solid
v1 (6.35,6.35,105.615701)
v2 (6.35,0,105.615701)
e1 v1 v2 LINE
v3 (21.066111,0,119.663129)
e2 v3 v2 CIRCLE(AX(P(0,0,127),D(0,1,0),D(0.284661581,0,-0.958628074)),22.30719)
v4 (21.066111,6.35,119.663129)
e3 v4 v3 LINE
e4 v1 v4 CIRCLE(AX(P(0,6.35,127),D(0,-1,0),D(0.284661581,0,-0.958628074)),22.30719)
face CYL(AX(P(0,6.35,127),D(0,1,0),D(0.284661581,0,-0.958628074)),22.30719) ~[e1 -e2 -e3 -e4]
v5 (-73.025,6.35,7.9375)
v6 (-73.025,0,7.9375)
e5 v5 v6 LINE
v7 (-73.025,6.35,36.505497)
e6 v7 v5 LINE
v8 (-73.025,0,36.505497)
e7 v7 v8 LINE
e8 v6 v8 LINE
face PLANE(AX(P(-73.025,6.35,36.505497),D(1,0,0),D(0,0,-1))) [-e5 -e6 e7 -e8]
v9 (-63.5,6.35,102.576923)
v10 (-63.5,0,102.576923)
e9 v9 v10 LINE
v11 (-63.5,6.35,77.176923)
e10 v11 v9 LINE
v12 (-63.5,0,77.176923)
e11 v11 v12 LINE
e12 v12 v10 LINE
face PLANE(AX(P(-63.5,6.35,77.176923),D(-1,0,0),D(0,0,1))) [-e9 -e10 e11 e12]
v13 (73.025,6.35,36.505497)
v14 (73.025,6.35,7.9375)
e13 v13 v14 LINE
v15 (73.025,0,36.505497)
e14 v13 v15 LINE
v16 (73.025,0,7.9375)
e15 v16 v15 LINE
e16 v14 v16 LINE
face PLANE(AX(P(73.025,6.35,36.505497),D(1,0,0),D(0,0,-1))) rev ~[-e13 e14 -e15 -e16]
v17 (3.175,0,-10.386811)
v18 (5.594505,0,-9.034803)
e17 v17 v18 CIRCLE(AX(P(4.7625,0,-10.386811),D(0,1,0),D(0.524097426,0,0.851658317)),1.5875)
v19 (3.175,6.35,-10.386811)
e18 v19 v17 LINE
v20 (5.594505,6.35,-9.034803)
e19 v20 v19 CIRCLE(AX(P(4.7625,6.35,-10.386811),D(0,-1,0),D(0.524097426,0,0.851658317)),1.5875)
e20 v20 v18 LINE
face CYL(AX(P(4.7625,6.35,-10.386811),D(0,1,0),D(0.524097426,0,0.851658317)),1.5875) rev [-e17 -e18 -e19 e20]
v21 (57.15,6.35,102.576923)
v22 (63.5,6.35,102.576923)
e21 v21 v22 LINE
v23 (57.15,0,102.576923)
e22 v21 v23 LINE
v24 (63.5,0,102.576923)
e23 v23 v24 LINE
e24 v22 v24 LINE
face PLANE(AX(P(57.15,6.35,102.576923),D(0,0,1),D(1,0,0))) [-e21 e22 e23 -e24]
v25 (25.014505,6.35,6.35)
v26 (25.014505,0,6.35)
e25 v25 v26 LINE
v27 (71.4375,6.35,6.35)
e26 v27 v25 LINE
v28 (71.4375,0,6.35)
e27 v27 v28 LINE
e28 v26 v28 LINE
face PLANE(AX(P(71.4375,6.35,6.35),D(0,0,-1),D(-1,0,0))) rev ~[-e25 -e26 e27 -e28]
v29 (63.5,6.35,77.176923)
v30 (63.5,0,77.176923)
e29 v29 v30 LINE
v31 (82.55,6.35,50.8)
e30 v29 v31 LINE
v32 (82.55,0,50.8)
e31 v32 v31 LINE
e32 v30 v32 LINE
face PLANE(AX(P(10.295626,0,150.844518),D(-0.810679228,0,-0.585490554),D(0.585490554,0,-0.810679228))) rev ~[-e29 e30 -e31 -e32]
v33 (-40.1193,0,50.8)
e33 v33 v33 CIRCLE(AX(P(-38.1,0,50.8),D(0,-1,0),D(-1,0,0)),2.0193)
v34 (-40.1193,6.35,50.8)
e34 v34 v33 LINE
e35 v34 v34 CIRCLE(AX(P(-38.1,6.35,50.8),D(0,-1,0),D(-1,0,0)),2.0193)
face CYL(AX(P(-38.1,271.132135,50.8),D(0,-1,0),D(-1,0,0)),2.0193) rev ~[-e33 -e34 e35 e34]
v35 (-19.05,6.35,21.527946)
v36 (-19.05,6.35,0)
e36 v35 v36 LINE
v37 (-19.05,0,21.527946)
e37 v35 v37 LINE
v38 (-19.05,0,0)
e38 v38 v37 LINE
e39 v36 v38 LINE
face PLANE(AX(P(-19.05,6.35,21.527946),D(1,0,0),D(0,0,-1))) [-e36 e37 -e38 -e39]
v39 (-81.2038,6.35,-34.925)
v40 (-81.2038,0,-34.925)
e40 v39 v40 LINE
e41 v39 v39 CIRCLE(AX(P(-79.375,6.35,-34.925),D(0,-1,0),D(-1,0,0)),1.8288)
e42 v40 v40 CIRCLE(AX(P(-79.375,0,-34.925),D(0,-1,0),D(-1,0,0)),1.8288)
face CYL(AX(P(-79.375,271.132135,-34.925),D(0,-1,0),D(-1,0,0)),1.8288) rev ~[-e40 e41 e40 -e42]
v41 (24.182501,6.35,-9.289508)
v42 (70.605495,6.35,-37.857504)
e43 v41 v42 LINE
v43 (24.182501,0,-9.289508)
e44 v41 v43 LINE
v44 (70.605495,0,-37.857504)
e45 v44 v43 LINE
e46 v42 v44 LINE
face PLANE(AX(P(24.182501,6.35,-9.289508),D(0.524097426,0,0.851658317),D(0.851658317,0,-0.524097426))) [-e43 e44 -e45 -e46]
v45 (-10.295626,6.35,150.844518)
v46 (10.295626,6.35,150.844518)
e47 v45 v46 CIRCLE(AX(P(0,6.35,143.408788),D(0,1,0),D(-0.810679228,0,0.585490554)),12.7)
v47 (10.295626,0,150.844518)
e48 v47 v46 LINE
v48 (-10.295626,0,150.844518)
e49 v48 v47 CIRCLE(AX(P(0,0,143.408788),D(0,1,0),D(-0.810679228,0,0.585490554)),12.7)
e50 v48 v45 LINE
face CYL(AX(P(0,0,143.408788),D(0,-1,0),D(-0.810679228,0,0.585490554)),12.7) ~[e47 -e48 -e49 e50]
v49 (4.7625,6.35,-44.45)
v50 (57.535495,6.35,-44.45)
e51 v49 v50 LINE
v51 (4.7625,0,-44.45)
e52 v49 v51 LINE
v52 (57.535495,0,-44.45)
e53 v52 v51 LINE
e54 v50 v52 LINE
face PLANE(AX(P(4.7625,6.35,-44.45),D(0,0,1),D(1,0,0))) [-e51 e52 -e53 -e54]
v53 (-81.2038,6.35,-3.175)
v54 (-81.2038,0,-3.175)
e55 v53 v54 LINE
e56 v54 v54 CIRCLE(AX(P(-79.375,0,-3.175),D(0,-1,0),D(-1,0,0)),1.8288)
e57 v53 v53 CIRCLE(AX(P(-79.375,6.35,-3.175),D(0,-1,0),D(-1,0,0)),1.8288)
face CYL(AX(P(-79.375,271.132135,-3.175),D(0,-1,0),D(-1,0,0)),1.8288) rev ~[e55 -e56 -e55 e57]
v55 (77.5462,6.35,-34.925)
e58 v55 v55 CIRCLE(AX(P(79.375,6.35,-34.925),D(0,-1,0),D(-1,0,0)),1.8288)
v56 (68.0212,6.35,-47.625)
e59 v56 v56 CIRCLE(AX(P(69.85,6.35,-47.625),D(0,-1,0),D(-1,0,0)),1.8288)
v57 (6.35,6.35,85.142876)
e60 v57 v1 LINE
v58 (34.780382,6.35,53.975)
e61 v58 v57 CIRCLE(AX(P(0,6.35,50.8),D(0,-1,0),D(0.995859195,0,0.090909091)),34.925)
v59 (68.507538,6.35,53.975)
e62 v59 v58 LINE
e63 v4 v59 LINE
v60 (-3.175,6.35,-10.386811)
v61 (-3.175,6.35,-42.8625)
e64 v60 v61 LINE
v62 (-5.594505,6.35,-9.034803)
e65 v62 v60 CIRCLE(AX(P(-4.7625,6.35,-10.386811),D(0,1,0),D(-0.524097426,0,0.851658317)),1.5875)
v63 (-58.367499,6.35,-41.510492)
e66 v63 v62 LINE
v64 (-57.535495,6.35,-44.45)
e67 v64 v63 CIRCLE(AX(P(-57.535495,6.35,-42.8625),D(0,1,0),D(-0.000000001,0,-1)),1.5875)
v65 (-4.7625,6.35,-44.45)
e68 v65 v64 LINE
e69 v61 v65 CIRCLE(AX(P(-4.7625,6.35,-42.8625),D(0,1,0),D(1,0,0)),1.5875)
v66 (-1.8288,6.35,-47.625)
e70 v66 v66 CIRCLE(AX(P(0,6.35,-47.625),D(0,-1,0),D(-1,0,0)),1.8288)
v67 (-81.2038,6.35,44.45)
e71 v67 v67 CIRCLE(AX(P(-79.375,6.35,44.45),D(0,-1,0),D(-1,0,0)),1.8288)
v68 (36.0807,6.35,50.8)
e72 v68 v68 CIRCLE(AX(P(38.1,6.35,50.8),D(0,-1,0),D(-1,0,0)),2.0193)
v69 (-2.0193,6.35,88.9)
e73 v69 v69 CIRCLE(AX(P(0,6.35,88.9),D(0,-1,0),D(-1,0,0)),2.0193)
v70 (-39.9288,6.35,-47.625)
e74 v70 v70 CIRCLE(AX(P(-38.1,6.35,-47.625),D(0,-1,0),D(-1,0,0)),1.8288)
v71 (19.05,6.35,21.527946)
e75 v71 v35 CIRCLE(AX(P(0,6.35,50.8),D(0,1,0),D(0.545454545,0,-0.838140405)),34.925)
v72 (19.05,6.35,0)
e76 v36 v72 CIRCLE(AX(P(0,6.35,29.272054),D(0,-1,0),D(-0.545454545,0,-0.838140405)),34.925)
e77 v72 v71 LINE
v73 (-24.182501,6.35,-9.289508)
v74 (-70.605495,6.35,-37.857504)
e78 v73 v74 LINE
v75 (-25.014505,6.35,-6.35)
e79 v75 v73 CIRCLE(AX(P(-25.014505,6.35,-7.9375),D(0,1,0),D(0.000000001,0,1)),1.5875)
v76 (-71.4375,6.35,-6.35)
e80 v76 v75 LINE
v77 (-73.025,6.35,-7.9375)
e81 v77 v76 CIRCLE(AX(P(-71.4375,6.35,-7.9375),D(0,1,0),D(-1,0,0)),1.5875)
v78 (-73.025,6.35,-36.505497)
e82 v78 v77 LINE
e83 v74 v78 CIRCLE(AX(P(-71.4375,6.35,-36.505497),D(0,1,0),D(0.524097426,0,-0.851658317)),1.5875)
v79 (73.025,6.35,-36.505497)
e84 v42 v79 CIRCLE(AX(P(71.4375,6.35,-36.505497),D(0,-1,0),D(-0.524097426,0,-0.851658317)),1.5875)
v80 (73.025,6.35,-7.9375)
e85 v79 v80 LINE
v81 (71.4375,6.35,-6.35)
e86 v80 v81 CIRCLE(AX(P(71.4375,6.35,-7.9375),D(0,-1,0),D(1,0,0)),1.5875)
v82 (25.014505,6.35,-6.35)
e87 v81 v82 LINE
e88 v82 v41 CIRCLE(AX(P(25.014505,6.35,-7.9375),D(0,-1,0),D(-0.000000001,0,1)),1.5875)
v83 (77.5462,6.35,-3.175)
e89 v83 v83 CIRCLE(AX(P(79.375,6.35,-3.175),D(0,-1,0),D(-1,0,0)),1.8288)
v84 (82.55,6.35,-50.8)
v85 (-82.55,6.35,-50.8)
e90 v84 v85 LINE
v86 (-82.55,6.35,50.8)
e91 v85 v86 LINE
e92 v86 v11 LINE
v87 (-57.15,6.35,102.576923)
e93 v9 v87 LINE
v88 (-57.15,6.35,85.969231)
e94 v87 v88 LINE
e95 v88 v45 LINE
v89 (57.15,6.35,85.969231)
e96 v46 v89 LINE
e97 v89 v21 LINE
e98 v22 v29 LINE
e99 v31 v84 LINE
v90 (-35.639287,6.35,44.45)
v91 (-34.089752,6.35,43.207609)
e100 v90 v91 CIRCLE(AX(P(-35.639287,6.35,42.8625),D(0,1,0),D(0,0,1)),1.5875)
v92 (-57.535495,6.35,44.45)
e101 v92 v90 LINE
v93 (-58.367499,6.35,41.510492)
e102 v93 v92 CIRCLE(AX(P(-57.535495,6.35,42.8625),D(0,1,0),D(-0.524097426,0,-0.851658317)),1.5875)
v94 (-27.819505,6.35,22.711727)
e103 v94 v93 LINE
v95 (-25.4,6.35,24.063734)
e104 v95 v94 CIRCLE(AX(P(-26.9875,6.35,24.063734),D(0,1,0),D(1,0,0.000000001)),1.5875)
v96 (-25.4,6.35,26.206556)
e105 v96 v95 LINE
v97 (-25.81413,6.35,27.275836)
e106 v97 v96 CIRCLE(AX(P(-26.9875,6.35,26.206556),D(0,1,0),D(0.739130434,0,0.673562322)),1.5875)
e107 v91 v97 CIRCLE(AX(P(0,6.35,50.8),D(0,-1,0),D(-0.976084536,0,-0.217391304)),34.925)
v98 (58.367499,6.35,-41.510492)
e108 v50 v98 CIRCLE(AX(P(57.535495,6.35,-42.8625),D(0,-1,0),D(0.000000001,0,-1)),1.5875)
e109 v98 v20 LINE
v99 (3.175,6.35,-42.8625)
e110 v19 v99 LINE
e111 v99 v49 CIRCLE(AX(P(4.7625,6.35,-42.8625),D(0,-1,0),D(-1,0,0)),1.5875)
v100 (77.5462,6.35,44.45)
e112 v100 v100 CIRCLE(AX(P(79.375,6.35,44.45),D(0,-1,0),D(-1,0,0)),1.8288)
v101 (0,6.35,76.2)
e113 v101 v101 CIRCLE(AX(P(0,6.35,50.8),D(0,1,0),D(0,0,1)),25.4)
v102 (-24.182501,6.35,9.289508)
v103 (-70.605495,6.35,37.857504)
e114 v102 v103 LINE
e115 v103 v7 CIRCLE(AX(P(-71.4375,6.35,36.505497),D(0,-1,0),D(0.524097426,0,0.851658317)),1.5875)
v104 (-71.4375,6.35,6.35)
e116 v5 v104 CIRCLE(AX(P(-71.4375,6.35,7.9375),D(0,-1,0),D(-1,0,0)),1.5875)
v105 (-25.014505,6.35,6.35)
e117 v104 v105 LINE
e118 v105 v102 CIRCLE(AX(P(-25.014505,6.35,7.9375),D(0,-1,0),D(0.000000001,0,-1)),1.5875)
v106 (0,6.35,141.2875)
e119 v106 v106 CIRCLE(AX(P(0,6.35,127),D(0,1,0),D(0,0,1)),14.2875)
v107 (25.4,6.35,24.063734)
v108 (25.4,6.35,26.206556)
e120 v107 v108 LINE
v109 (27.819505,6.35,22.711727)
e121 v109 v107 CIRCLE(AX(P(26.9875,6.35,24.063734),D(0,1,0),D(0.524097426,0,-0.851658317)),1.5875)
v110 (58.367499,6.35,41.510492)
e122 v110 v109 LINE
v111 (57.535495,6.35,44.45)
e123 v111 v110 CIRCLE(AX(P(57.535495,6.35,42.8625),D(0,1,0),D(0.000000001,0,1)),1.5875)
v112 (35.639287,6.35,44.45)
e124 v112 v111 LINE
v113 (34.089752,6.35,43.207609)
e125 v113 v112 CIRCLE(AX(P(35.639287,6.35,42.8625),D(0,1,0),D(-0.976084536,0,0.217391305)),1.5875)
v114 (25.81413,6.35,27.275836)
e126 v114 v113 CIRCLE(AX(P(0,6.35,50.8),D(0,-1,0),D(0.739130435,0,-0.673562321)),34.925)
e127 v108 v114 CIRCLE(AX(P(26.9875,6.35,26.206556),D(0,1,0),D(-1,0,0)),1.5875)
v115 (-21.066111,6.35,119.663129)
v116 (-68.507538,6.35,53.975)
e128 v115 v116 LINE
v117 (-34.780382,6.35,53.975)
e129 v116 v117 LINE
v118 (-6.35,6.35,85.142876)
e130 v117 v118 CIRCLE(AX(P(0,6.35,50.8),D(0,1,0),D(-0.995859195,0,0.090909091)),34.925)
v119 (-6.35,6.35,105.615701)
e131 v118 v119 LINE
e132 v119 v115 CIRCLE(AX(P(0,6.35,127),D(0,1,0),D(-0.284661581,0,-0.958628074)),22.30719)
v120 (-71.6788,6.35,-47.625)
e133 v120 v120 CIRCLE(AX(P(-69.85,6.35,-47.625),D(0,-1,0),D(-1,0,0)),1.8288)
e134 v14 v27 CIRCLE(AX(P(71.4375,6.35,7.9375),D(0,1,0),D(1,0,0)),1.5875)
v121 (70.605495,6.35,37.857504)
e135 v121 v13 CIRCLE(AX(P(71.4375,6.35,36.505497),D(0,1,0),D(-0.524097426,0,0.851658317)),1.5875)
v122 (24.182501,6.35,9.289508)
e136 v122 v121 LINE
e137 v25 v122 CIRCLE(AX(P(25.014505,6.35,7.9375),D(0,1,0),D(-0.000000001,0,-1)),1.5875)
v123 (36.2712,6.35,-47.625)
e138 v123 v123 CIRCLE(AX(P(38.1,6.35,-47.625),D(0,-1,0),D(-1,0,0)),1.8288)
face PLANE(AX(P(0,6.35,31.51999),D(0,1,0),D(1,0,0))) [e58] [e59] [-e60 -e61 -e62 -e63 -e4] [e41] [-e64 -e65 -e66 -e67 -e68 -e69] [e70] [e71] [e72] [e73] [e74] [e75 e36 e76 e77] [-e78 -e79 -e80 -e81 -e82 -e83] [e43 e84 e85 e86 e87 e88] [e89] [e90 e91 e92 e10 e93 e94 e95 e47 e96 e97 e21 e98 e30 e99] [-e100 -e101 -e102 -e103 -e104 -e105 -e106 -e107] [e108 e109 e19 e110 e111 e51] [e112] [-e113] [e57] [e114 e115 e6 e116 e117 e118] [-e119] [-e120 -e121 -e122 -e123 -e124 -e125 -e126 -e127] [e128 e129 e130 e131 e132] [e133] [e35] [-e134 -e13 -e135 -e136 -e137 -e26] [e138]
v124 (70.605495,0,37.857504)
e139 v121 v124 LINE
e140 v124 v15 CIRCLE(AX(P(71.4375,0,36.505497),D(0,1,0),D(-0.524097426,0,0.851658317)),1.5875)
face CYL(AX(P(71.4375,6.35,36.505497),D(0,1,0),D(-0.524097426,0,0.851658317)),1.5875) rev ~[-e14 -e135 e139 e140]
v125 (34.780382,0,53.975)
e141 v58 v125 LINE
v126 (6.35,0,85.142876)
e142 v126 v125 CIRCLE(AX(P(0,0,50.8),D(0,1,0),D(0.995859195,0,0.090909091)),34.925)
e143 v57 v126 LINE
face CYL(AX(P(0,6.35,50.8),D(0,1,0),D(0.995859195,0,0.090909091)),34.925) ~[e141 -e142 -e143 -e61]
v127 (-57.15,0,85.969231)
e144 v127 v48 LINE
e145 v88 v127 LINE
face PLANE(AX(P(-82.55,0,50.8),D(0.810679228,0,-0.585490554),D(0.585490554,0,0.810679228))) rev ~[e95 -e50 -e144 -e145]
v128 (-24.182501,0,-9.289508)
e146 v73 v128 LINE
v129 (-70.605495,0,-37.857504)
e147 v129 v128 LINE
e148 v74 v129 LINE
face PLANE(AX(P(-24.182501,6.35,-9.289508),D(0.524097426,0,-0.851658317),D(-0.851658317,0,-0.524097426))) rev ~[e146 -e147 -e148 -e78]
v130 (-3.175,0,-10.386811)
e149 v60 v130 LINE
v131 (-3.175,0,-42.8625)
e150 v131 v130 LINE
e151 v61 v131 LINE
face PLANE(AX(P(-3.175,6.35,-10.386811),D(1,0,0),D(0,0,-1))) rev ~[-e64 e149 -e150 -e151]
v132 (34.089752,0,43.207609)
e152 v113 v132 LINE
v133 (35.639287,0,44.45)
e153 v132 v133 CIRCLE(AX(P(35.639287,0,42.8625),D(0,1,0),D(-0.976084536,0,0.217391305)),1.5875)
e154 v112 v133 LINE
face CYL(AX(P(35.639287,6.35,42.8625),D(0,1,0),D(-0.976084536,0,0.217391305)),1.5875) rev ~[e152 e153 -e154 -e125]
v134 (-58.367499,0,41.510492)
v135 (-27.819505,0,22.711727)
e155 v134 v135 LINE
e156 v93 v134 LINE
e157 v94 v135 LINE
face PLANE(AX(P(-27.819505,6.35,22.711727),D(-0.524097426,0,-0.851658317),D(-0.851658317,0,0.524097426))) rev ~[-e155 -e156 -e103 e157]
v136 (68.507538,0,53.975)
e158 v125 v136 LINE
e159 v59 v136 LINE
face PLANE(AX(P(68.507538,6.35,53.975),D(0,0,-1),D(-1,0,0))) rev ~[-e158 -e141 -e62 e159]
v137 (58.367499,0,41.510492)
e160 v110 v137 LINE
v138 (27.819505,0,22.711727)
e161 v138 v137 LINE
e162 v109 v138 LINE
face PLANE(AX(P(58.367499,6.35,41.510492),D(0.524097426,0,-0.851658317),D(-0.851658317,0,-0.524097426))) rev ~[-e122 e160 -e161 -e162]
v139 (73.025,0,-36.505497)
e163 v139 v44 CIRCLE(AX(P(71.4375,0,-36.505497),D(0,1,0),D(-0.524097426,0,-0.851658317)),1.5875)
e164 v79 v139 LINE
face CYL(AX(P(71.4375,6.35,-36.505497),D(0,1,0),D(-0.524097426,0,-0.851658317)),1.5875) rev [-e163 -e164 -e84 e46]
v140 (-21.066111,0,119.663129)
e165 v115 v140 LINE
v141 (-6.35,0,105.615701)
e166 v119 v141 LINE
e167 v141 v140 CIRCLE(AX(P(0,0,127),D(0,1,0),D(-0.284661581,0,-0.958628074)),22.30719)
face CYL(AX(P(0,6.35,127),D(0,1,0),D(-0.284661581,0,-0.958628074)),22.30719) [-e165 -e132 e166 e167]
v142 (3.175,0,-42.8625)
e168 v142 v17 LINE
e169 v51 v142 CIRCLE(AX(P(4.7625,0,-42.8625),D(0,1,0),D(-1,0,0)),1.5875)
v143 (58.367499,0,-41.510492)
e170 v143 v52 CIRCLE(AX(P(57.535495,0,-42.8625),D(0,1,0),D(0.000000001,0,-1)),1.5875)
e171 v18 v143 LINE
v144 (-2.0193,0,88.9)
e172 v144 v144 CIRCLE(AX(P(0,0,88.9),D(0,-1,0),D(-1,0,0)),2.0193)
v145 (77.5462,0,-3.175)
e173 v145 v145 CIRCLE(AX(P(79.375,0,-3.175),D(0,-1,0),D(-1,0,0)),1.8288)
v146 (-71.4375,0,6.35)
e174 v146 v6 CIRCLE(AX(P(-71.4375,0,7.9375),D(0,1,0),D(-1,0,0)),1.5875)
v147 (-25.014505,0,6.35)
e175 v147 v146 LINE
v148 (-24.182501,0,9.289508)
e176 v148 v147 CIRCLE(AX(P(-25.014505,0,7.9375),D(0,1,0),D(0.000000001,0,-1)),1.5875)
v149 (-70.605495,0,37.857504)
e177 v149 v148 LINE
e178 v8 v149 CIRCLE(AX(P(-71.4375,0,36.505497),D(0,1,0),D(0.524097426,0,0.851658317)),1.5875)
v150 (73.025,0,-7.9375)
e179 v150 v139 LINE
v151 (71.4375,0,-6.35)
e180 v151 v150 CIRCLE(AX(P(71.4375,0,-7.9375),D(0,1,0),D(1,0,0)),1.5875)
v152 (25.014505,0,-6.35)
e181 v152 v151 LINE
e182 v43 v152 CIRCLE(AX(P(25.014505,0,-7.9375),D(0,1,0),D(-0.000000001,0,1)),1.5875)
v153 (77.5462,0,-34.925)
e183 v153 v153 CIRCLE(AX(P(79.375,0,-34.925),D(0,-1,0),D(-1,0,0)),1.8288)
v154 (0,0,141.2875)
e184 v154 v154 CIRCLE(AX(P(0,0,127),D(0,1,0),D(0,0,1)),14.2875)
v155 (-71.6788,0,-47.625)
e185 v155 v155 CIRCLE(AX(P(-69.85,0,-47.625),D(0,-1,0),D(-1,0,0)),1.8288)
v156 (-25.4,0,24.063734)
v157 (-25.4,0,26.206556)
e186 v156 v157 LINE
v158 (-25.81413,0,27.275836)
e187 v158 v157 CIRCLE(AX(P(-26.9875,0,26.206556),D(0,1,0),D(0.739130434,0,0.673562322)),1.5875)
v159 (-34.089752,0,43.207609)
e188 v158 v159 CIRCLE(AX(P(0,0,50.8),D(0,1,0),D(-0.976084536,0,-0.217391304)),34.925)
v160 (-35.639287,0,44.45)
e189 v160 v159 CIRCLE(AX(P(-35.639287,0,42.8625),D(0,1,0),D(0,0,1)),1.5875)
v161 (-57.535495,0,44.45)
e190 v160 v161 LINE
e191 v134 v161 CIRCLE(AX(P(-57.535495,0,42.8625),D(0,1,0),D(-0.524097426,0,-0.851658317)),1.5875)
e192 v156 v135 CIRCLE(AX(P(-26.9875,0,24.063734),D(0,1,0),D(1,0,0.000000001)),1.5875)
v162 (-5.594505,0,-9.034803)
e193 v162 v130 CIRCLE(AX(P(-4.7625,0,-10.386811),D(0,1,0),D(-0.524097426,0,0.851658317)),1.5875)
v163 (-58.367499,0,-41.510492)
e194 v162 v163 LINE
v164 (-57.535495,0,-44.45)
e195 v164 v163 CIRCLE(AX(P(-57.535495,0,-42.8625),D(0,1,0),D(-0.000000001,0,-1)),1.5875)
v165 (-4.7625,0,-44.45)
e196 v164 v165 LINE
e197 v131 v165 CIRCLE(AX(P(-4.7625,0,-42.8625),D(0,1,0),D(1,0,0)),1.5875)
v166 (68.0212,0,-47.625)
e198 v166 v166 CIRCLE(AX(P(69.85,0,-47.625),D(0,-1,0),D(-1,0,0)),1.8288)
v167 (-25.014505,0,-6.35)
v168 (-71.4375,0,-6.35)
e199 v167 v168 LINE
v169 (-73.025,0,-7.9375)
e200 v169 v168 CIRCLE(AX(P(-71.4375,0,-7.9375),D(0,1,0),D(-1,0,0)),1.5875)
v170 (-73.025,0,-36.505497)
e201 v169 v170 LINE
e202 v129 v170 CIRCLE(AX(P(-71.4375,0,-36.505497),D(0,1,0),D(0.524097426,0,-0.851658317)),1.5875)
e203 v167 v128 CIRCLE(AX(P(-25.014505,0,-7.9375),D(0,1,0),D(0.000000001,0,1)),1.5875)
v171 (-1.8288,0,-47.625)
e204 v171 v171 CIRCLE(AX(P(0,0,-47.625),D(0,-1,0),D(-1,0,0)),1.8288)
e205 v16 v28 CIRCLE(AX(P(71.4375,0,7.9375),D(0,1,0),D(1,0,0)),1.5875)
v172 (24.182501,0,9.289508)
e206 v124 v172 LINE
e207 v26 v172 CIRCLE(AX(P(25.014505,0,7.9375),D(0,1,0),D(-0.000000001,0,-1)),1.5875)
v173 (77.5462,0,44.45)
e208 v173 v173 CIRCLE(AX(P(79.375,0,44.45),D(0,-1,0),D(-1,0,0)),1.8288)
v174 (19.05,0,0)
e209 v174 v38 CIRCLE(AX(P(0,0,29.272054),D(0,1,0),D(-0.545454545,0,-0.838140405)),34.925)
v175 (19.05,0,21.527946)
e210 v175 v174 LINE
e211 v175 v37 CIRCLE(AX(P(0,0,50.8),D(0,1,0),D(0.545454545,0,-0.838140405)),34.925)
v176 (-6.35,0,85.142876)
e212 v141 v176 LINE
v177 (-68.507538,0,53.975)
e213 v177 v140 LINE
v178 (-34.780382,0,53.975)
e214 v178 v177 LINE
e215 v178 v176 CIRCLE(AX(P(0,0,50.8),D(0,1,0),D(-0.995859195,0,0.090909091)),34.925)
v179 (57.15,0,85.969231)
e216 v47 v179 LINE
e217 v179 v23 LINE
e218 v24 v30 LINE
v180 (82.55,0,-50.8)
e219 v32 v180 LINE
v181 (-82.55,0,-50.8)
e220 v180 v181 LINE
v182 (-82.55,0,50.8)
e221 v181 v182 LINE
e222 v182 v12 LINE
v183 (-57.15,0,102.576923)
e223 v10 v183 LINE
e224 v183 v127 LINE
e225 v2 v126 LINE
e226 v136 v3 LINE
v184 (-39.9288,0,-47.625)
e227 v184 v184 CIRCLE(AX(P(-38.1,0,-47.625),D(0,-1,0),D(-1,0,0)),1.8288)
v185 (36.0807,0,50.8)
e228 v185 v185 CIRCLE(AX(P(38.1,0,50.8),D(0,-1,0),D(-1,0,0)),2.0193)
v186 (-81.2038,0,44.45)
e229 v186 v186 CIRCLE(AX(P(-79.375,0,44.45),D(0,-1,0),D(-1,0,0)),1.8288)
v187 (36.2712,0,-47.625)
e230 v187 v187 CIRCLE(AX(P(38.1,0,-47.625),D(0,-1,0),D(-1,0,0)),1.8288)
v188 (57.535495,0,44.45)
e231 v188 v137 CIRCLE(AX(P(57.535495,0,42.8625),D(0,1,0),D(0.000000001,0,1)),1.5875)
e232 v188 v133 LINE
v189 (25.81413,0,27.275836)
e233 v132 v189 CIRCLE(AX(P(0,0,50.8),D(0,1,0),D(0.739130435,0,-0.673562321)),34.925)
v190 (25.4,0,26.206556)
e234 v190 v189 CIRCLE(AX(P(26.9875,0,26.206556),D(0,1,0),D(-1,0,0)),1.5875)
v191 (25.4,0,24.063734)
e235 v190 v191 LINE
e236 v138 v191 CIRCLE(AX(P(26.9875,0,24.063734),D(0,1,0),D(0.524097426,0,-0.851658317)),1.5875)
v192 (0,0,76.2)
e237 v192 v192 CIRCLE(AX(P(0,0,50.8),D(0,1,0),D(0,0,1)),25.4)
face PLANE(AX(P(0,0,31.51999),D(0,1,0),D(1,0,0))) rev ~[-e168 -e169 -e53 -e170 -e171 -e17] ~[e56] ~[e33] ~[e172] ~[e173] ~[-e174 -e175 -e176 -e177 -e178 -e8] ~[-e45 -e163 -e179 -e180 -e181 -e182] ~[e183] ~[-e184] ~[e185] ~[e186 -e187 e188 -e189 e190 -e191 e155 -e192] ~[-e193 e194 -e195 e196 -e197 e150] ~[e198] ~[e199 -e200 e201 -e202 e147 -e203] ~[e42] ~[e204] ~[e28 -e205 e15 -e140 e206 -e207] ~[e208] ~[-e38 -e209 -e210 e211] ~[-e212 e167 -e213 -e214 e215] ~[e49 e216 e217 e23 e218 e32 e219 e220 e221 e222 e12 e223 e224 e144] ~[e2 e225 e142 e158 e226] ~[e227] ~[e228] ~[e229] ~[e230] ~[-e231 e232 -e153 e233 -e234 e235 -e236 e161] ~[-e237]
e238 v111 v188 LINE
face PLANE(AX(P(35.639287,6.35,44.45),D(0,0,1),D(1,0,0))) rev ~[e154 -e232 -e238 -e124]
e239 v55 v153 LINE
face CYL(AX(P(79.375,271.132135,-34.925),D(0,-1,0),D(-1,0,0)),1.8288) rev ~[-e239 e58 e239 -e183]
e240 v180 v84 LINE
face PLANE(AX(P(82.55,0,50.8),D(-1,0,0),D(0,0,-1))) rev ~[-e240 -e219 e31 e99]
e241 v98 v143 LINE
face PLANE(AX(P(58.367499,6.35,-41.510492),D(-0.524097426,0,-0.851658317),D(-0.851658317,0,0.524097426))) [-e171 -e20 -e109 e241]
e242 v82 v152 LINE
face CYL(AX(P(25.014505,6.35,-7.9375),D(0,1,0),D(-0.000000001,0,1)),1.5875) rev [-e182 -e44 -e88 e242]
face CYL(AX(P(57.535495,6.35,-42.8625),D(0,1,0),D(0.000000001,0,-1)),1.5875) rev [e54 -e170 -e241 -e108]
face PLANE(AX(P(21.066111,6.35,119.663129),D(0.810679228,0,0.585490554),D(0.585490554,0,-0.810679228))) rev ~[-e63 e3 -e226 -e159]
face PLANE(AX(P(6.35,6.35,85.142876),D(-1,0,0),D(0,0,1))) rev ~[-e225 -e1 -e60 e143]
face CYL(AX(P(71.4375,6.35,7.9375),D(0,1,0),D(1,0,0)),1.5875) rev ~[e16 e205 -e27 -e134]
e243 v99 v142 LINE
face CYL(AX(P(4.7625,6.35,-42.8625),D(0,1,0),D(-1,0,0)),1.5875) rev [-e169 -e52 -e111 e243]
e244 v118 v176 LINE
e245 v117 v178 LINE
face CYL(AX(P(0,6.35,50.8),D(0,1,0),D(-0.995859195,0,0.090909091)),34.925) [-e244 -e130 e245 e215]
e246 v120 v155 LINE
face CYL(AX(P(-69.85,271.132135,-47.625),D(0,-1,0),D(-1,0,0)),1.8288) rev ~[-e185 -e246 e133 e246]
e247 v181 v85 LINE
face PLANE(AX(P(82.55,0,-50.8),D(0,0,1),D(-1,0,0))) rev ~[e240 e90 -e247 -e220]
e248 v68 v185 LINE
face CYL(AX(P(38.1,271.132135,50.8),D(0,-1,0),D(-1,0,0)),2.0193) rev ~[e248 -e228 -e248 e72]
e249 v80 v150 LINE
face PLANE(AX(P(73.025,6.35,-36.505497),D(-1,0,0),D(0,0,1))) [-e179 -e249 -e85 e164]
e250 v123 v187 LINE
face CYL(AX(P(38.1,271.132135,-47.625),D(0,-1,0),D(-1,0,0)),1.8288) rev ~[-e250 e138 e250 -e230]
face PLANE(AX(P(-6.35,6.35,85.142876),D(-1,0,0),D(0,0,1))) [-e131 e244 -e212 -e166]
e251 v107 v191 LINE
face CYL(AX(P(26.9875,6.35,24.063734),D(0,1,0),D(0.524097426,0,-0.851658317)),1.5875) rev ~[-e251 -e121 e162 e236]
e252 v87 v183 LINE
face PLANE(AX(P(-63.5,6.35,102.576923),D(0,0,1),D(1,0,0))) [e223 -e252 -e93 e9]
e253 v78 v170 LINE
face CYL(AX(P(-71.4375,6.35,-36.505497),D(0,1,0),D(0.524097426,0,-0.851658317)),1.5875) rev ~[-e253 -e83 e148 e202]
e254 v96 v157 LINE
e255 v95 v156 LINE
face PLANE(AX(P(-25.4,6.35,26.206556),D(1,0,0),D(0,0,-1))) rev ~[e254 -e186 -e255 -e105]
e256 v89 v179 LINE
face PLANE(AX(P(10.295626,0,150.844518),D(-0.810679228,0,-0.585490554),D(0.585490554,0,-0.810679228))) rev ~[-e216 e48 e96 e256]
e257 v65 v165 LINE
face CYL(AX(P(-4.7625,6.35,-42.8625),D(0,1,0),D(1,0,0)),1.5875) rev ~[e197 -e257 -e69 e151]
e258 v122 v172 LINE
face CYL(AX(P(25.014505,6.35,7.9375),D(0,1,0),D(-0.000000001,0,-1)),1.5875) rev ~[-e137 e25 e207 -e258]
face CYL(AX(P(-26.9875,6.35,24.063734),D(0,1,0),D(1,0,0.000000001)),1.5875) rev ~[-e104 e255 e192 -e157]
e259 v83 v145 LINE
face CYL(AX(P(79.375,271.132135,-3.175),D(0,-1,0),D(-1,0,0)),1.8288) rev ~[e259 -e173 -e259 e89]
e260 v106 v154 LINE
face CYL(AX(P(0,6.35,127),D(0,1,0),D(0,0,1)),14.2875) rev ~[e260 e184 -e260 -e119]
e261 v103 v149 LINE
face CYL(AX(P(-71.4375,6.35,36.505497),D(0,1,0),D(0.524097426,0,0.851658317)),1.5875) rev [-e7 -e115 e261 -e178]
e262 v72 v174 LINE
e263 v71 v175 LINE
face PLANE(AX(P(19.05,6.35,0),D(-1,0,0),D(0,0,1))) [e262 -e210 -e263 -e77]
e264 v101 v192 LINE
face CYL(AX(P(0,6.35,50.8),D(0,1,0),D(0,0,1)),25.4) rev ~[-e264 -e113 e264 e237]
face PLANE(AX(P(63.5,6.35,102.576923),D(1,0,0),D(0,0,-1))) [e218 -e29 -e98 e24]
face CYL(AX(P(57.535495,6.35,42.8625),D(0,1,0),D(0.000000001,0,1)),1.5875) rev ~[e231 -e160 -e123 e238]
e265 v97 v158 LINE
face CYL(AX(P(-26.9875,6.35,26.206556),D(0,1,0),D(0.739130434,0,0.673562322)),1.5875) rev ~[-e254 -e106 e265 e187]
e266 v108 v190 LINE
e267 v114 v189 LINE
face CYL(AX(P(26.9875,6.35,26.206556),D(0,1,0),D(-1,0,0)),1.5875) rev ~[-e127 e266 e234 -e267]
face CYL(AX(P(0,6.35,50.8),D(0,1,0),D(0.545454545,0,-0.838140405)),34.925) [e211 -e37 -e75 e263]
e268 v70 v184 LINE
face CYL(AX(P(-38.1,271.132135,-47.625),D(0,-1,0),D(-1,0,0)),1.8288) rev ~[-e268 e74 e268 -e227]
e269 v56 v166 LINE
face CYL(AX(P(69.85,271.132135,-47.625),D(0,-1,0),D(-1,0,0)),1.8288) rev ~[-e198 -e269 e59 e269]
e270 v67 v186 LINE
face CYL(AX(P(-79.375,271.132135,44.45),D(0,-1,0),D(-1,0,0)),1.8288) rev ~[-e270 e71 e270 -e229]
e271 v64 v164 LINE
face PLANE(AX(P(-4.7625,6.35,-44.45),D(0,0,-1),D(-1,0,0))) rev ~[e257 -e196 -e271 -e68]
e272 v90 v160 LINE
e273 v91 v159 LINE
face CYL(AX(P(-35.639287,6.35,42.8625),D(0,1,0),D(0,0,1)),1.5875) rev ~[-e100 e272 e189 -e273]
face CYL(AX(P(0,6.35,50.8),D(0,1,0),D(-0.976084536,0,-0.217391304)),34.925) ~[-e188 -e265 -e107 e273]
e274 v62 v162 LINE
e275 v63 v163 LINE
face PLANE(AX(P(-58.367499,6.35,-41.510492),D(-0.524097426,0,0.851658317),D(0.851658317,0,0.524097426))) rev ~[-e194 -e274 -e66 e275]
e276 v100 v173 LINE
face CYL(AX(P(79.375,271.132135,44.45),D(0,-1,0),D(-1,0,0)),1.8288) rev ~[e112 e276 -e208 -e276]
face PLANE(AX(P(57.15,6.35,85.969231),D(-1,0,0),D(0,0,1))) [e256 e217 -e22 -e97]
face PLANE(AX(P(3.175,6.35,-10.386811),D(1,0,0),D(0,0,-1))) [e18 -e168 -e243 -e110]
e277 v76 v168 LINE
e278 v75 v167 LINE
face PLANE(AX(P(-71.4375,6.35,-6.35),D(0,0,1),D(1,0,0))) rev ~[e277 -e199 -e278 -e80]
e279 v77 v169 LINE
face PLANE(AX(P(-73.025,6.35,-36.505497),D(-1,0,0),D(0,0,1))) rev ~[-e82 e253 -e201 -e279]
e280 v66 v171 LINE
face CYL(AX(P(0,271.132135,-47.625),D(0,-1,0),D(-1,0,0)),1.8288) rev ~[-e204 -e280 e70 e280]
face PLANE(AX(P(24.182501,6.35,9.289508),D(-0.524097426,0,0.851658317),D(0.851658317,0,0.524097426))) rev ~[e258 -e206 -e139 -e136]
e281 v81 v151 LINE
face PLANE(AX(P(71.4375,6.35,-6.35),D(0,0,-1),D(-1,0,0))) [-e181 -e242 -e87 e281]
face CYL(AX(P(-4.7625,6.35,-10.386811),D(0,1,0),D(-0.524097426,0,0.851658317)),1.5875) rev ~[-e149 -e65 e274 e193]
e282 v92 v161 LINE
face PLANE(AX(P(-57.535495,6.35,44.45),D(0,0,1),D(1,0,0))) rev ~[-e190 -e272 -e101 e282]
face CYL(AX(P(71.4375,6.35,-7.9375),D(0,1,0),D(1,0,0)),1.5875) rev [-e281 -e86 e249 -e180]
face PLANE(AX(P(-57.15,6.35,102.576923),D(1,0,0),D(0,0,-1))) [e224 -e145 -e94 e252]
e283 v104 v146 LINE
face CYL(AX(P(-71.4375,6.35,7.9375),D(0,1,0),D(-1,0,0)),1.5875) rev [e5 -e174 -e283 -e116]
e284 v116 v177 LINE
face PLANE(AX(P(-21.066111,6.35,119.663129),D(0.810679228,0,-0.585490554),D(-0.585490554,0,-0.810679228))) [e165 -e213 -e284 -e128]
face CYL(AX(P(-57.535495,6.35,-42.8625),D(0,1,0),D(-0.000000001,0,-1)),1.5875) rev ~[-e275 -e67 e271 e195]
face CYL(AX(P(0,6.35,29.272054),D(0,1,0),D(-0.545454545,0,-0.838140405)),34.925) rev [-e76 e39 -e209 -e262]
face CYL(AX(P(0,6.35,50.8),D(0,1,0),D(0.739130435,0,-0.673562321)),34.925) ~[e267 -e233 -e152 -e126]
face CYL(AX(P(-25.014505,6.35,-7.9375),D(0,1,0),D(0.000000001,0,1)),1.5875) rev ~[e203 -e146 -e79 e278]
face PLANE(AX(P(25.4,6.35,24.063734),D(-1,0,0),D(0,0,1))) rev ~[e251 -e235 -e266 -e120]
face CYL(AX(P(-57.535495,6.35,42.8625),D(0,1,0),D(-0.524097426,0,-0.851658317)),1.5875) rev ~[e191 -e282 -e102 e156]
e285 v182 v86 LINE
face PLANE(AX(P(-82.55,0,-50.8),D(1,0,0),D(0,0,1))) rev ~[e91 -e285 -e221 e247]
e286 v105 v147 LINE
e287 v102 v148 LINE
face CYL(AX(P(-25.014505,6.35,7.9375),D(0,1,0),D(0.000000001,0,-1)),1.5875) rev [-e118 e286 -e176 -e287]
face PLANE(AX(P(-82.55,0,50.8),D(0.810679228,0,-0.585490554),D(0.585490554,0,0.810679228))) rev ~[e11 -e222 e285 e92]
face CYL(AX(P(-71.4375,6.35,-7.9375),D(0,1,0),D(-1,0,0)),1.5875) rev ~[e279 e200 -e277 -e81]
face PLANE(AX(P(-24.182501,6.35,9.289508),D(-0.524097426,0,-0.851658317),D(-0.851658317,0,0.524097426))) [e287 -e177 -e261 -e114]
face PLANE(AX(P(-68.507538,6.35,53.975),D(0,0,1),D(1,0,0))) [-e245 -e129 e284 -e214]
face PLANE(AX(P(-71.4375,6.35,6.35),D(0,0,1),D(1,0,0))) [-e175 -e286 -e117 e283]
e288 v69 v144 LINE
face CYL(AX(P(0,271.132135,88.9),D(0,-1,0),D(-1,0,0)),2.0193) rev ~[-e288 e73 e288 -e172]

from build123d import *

# Parameters (mm, degrees)
BOSS_EXTRUDE1_DEPTH        = 6.35
BOSS_EXTRUDE2_DEPTH        = 6.35
CUT_EXTRUDE2_REACH         = 178.705
SKETCH3_R                  = 25.4
SKETCH3_R_2                = 14.2875
F_6_CLEARANCE_HOLE1_D      = 3.6576
TAP_DRILL_FOR_10_32_TAP1_D = 4.0386


with BuildPart() as part:
    # Sketch1 → Boss-Extrude1 (new body)
    with BuildSketch(Plane(origin=(0, 0, 0), x_dir=(1, 0, 0), z_dir=(0, 1, 0))):
        with BuildLine():
            Line((-82.55, -50.8), (-10.295626201, -150.844517568))
            ThreePointArc((-10.295626201, -150.844517568), (0, -156.108787534), (10.295626201, -150.844517568))
            Line((10.295626201, -150.844517568), (82.55, -50.8))
            Line((82.55, -50.8), (82.55, 50.8))
            Line((82.55, 50.8), (-82.55, 50.8))
            Line((-82.55, 50.8), (-82.55, -50.8))
        make_face()
    extrude(amount=BOSS_EXTRUDE1_DEPTH)

    # Sketch4 → Boss-Extrude2 (add)
    with BuildSketch(Plane(origin=(0, 6.35, 0), x_dir=(1, 0, 0), z_dir=(0, 1, 0))):
        Polygon((-63.5, -77.176923077), (-63.5, -102.576923077), (-57.15, -102.576923077), (-57.15, -85.969230769), align=None)
        Polygon((57.15, -102.576923077), (63.5, -102.576923077), (63.5, -77.176923077), (57.15, -85.969230769), align=None)
    extrude(amount=-BOSS_EXTRUDE2_DEPTH)

    # Sketch3 → Cut-Extrude2 (cut, up to next)
    with BuildSketch(Plane(origin=(0, 6.35, 0), x_dir=(1, 0, 0), z_dir=(0, 1, 0)), mode=Mode.PRIVATE) as cut_extrude2_sk1:
        with Locations(Location((0, -50.8, 0), (0, 0, 270))):
            Circle(SKETCH3_R)
    cut_extrude2_tool1 = extrude(cut_extrude2_sk1.sketch, amount=-CUT_EXTRUDE2_REACH, mode=Mode.PRIVATE) & part.part
    # Sketch3 → Cut-Extrude2 (cut, up to next)
    with BuildSketch(Plane(origin=(0, 6.35, 0), x_dir=(1, 0, 0), z_dir=(0, 1, 0)), mode=Mode.PRIVATE) as cut_extrude2_sk2:
        with Locations(Location((0, -127, 0), (0, 0, 270))):
            Circle(SKETCH3_R_2)
    cut_extrude2_tool2 = extrude(cut_extrude2_sk2.sketch, amount=-CUT_EXTRUDE2_REACH, mode=Mode.PRIVATE) & part.part
    # Sketch3 → Cut-Extrude2 (cut, up to next)
    with BuildSketch(Plane(origin=(0, 6.35, 0), x_dir=(1, 0, 0), z_dir=(0, 1, 0)), mode=Mode.PRIVATE) as cut_extrude2_sk3:
        with BuildLine():
            Line((-58.367499255, 41.510492422), (-5.594504663, 9.034803443))
            ThreePointArc((-5.594504663, 9.034803443), (-3.988113518, 9.000996521), (-3.175, 10.386811021))
            Line((-3.175, 10.386811021), (-3.175, 42.8625))
            ThreePointArc((-3.175, 42.8625), (-3.639967985, 43.985032015), (-4.7625, 44.45))
            Line((-4.7625, 44.45), (-57.535494592, 44.45))
            ThreePointArc((-57.535494592, 44.45), (-59.062987354, 43.294844897), (-58.367499255, 41.510492422))
        make_face()
    cut_extrude2_tool3 = extrude(cut_extrude2_sk3.sketch, amount=-CUT_EXTRUDE2_REACH, mode=Mode.PRIVATE) & part.part
    # Sketch3 → Cut-Extrude2 (cut, up to next)
    with BuildSketch(Plane(origin=(0, 6.35, 0), x_dir=(1, 0, 0), z_dir=(0, 1, 0)), mode=Mode.PRIVATE) as cut_extrude2_sk4:
        with BuildLine():
            Line((-73.025, 36.505496672), (-73.025, 7.9375))
            ThreePointArc((-73.025, 7.9375), (-72.560032015, 6.814967985), (-71.4375, 6.35))
            Line((-71.4375, 6.35), (-25.014505408, 6.35))
            ThreePointArc((-25.014505408, 6.35), (-23.487012646, 7.505155103), (-24.182500745, 9.289507578))
            Line((-24.182500745, 9.289507578), (-70.605495337, 37.857504249))
            ThreePointArc((-70.605495337, 37.857504249), (-72.211886482, 37.891311171), (-73.025, 36.505496672))
        make_face()
    cut_extrude2_tool4 = extrude(cut_extrude2_sk4.sketch, amount=-CUT_EXTRUDE2_REACH, mode=Mode.PRIVATE) & part.part
    # Sketch3 → Cut-Extrude2 (cut, up to next)
    with BuildSketch(Plane(origin=(0, 6.35, 0), x_dir=(1, 0, 0), z_dir=(0, 1, 0)), mode=Mode.PRIVATE) as cut_extrude2_sk5:
        with BuildLine():
            Line((4.7625, 44.45), (57.535494592, 44.45))
            ThreePointArc((57.535494592, 44.45), (59.062987354, 43.294844897), (58.367499255, 41.510492422))
            Line((58.367499255, 41.510492422), (5.594504663, 9.034803443))
            ThreePointArc((5.594504663, 9.034803443), (3.988113518, 9.000996521), (3.175, 10.386811021))
            Line((3.175, 10.386811021), (3.175, 42.8625))
            ThreePointArc((3.175, 42.8625), (3.639967985, 43.985032015), (4.7625, 44.45))
        make_face()
    cut_extrude2_tool5 = extrude(cut_extrude2_sk5.sketch, amount=-CUT_EXTRUDE2_REACH, mode=Mode.PRIVATE) & part.part
    # Sketch3 → Cut-Extrude2 (cut, up to next)
    with BuildSketch(Plane(origin=(0, 6.35, 0), x_dir=(1, 0, 0), z_dir=(0, 1, 0)), mode=Mode.PRIVATE) as cut_extrude2_sk6:
        with BuildLine():
            Line((24.182500745, 9.289507578), (70.605495337, 37.857504249))
            ThreePointArc((70.605495337, 37.857504249), (72.211886482, 37.891311171), (73.025, 36.505496672))
            Line((73.025, 36.505496672), (73.025, 7.9375))
            ThreePointArc((73.025, 7.9375), (72.560032015, 6.814967985), (71.4375, 6.35))
            Line((71.4375, 6.35), (25.014505408, 6.35))
            ThreePointArc((25.014505408, 6.35), (23.487012646, 7.505155103), (24.182500745, 9.289507578))
        make_face()
    cut_extrude2_tool6 = extrude(cut_extrude2_sk6.sketch, amount=-CUT_EXTRUDE2_REACH, mode=Mode.PRIVATE) & part.part
    # Sketch3 → Cut-Extrude2 (cut, up to next)
    with BuildSketch(Plane(origin=(0, 6.35, 0), x_dir=(1, 0, 0), z_dir=(0, 1, 0)), mode=Mode.PRIVATE) as cut_extrude2_sk7:
        with BuildLine():
            Line((73.025, -36.505496672), (73.025, -7.9375))
            ThreePointArc((73.025, -7.9375), (72.560032015, -6.814967985), (71.4375, -6.35))
            Line((71.4375, -6.35), (25.014505408, -6.35))
            ThreePointArc((25.014505408, -6.35), (23.487012646, -7.505155103), (24.182500745, -9.289507578))
            Line((24.182500745, -9.289507578), (70.605495337, -37.857504249))
            ThreePointArc((70.605495337, -37.857504249), (72.211886482, -37.891311171), (73.025, -36.505496672))
        make_face()
    cut_extrude2_tool7 = extrude(cut_extrude2_sk7.sketch, amount=-CUT_EXTRUDE2_REACH, mode=Mode.PRIVATE) & part.part
    # Sketch3 → Cut-Extrude2 (cut, up to next)
    with BuildSketch(Plane(origin=(0, 6.35, 0), x_dir=(1, 0, 0), z_dir=(0, 1, 0)), mode=Mode.PRIVATE) as cut_extrude2_sk8:
        with BuildLine():
            Line((-24.182500745, -9.289507578), (-70.605495337, -37.857504249))
            ThreePointArc((-70.605495337, -37.857504249), (-72.211886482, -37.891311171), (-73.025, -36.505496672))
            Line((-73.025, -36.505496672), (-73.025, -7.9375))
            ThreePointArc((-73.025, -7.9375), (-72.560032015, -6.814967985), (-71.4375, -6.35))
            Line((-71.4375, -6.35), (-25.014505408, -6.35))
            ThreePointArc((-25.014505408, -6.35), (-23.487012646, -7.505155103), (-24.182500745, -9.289507578))
        make_face()
    cut_extrude2_tool8 = extrude(cut_extrude2_sk8.sketch, amount=-CUT_EXTRUDE2_REACH, mode=Mode.PRIVATE) & part.part
    # Sketch3 → Cut-Extrude2 (cut, up to next)
    with BuildSketch(Plane(origin=(0, 6.35, 0), x_dir=(1, 0, 0), z_dir=(0, 1, 0)), mode=Mode.PRIVATE) as cut_extrude2_sk9:
        with BuildLine():
            Line((-6.35, -85.142875899), (-6.35, -105.615701316))
            ThreePointArc((-6.35, -105.615701316), (-15.402705776, -110.864096399), (-21.066111407, -119.663128703))
            Line((-21.066111407, -119.663128703), (-68.507537692, -53.975))
            Line((-68.507537692, -53.975), (-34.780382402, -53.975))
            ThreePointArc((-34.780382402, -53.975), (-25.802833394, -74.336554843), (-6.35, -85.142875899))
        make_face()
    cut_extrude2_tool9 = extrude(cut_extrude2_sk9.sketch, amount=-CUT_EXTRUDE2_REACH, mode=Mode.PRIVATE) & part.part
    # Sketch3 → Cut-Extrude2 (cut, up to next)
    with BuildSketch(Plane(origin=(0, 6.35, 0), x_dir=(1, 0, 0), z_dir=(0, 1, 0)), mode=Mode.PRIVATE) as cut_extrude2_sk10:
        with BuildLine():
            Line((6.35, -85.142875899), (6.35, -105.615701316))
            ThreePointArc((6.35, -105.615701316), (15.402705776, -110.864096399), (21.066111407, -119.663128703))
            Line((21.066111407, -119.663128703), (68.507537692, -53.975))
            Line((68.507537692, -53.975), (34.780382402, -53.975))
            ThreePointArc((34.780382402, -53.975), (25.802833394, -74.336554843), (6.35, -85.142875899))
        make_face()
    cut_extrude2_tool10 = extrude(cut_extrude2_sk10.sketch, amount=-CUT_EXTRUDE2_REACH, mode=Mode.PRIVATE) & part.part
    # Sketch3 → Cut-Extrude2 (cut, up to next)
    with BuildSketch(Plane(origin=(0, 6.35, 0), x_dir=(1, 0, 0), z_dir=(0, 1, 0)), mode=Mode.PRIVATE) as cut_extrude2_sk11:
        with BuildLine():
            Line((-19.05, -21.527946348), (-19.05, 0))
            ThreePointArc((-19.05, 0), (0, 5.652946348), (19.05, 0))
            Line((19.05, 0), (19.05, -21.527946348))
            ThreePointArc((19.05, -21.527946348), (0, -15.875), (-19.05, -21.527946348))
        make_face()
    cut_extrude2_tool11 = extrude(cut_extrude2_sk11.sketch, amount=-CUT_EXTRUDE2_REACH, mode=Mode.PRIVATE) & part.part
    # Sketch3 → Cut-Extrude2 (cut, up to next)
    with BuildSketch(Plane(origin=(0, 6.35, 0), x_dir=(1, 0, 0), z_dir=(0, 1, 0)), mode=Mode.PRIVATE) as cut_extrude2_sk12:
        with BuildLine():
            Line((-57.535494592, -44.45), (-35.639286609, -44.45))
            ThreePointArc((-35.639286609, -44.45), (-34.646236712, -44.101050827), (-34.089752409, -43.207608696))
            ThreePointArc((-34.089752409, -43.207608696), (-30.993130541, -34.700885606), (-25.814130435, -27.275835936))
            ThreePointArc((-25.814130435, -27.275835936), (-25.507148617, -26.779893377), (-25.4, -26.206555752))
            Line((-25.4, -26.206555752), (-25.4, -24.063734098))
            ThreePointArc((-25.4, -24.063734098), (-26.213113518, -22.677919598), (-27.819504663, -22.71172652))
            Line((-27.819504663, -22.71172652), (-58.367499255, -41.510492422))
            ThreePointArc((-58.367499255, -41.510492422), (-59.062987354, -43.294844897), (-57.535494592, -44.45))
        make_face()
    cut_extrude2_tool12 = extrude(cut_extrude2_sk12.sketch, amount=-CUT_EXTRUDE2_REACH, mode=Mode.PRIVATE) & part.part
    # Sketch3 → Cut-Extrude2 (cut, up to next)
    with BuildSketch(Plane(origin=(0, 6.35, 0), x_dir=(1, 0, 0), z_dir=(0, 1, 0)), mode=Mode.PRIVATE) as cut_extrude2_sk13:
        with BuildLine():
            Line((25.4, -24.063734098), (25.4, -26.206555752))
            ThreePointArc((25.4, -26.206555752), (25.507148617, -26.779893377), (25.814130435, -27.275835936))
            ThreePointArc((25.814130435, -27.275835936), (30.993130541, -34.700885606), (34.089752409, -43.207608696))
            ThreePointArc((34.089752409, -43.207608696), (34.646236712, -44.101050827), (35.639286609, -44.45))
            Line((35.639286609, -44.45), (57.535494592, -44.45))
            ThreePointArc((57.535494592, -44.45), (59.062987354, -43.294844897), (58.367499255, -41.510492422))
            Line((58.367499255, -41.510492422), (27.819504663, -22.71172652))
            ThreePointArc((27.819504663, -22.71172652), (26.213113518, -22.677919598), (25.4, -24.063734098))
        make_face()
    cut_extrude2_tool13 = extrude(cut_extrude2_sk13.sketch, amount=-CUT_EXTRUDE2_REACH, mode=Mode.PRIVATE) & part.part
    add(cut_extrude2_tool1.solids().sort_by_distance((0, 6.35, 50.8))[0], mode=Mode.SUBTRACT)
    add(cut_extrude2_tool2.solids().sort_by_distance((0, 6.35, 127))[0], mode=Mode.SUBTRACT)
    add(cut_extrude2_tool3.solids().sort_by_distance((-23.016302, 6.35, -32.123089))[0], mode=Mode.SUBTRACT)
    add(cut_extrude2_tool4.solids().sort_by_distance((-55.316443, 6.35, -17.377083))[0], mode=Mode.SUBTRACT)
    add(cut_extrude2_tool5.solids().sort_by_distance((23.016302, 6.35, -32.123089))[0], mode=Mode.SUBTRACT)
    add(cut_extrude2_tool6.solids().sort_by_distance((55.316443, 6.35, -17.377083))[0], mode=Mode.SUBTRACT)
    add(cut_extrude2_tool7.solids().sort_by_distance((55.316443, 6.35, 17.377083))[0], mode=Mode.SUBTRACT)
    add(cut_extrude2_tool8.solids().sort_by_distance((-55.316443, 6.35, 17.377083))[0], mode=Mode.SUBTRACT)
    add(cut_extrude2_tool9.solids().sort_by_distance((-32.99022, 6.35, 82.3723))[0], mode=Mode.SUBTRACT)
    add(cut_extrude2_tool10.solids().sort_by_distance((32.99022, 6.35, 82.3723))[0], mode=Mode.SUBTRACT)
    add(cut_extrude2_tool11.solids().sort_by_distance((0, 6.35, 6.929783))[0], mode=Mode.SUBTRACT)
    add(cut_extrude2_tool12.solids().sort_by_distance((-40.378487, 6.35, 36.296551))[0], mode=Mode.SUBTRACT)
    add(cut_extrude2_tool13.solids().sort_by_distance((40.378487, 6.35, 36.296551))[0], mode=Mode.SUBTRACT)

    # #6 Clearance Hole1 (through all)
    with Locations(Plane(origin=(0, 6.35, 0), x_dir=(1, 0, 0), z_dir=(0, 1, 0))):
        with Locations((-79.375, -44.45), (-79.375, 3.175), (-69.85, 47.625), (-79.375, 34.925), (-38.1, 47.625), (0, 47.625), (38.1, 47.625), (69.85, 47.625), (79.375, 34.925), (79.375, 3.175), (79.375, -44.45)):
            Hole(F_6_CLEARANCE_HOLE1_D / 2)

    # Tap Drill for #10-32 Tap1 (through all)
    with Locations(Plane(origin=(0, 6.35, 0), x_dir=(1, 0, 0), z_dir=(0, 1, 0))):
        with Locations((-38.1, -50.8), (0, -88.9), (38.1, -50.8)):
            Hole(TAP_DRILL_FOR_10_32_TAP1_D / 2)


solid = part.part
